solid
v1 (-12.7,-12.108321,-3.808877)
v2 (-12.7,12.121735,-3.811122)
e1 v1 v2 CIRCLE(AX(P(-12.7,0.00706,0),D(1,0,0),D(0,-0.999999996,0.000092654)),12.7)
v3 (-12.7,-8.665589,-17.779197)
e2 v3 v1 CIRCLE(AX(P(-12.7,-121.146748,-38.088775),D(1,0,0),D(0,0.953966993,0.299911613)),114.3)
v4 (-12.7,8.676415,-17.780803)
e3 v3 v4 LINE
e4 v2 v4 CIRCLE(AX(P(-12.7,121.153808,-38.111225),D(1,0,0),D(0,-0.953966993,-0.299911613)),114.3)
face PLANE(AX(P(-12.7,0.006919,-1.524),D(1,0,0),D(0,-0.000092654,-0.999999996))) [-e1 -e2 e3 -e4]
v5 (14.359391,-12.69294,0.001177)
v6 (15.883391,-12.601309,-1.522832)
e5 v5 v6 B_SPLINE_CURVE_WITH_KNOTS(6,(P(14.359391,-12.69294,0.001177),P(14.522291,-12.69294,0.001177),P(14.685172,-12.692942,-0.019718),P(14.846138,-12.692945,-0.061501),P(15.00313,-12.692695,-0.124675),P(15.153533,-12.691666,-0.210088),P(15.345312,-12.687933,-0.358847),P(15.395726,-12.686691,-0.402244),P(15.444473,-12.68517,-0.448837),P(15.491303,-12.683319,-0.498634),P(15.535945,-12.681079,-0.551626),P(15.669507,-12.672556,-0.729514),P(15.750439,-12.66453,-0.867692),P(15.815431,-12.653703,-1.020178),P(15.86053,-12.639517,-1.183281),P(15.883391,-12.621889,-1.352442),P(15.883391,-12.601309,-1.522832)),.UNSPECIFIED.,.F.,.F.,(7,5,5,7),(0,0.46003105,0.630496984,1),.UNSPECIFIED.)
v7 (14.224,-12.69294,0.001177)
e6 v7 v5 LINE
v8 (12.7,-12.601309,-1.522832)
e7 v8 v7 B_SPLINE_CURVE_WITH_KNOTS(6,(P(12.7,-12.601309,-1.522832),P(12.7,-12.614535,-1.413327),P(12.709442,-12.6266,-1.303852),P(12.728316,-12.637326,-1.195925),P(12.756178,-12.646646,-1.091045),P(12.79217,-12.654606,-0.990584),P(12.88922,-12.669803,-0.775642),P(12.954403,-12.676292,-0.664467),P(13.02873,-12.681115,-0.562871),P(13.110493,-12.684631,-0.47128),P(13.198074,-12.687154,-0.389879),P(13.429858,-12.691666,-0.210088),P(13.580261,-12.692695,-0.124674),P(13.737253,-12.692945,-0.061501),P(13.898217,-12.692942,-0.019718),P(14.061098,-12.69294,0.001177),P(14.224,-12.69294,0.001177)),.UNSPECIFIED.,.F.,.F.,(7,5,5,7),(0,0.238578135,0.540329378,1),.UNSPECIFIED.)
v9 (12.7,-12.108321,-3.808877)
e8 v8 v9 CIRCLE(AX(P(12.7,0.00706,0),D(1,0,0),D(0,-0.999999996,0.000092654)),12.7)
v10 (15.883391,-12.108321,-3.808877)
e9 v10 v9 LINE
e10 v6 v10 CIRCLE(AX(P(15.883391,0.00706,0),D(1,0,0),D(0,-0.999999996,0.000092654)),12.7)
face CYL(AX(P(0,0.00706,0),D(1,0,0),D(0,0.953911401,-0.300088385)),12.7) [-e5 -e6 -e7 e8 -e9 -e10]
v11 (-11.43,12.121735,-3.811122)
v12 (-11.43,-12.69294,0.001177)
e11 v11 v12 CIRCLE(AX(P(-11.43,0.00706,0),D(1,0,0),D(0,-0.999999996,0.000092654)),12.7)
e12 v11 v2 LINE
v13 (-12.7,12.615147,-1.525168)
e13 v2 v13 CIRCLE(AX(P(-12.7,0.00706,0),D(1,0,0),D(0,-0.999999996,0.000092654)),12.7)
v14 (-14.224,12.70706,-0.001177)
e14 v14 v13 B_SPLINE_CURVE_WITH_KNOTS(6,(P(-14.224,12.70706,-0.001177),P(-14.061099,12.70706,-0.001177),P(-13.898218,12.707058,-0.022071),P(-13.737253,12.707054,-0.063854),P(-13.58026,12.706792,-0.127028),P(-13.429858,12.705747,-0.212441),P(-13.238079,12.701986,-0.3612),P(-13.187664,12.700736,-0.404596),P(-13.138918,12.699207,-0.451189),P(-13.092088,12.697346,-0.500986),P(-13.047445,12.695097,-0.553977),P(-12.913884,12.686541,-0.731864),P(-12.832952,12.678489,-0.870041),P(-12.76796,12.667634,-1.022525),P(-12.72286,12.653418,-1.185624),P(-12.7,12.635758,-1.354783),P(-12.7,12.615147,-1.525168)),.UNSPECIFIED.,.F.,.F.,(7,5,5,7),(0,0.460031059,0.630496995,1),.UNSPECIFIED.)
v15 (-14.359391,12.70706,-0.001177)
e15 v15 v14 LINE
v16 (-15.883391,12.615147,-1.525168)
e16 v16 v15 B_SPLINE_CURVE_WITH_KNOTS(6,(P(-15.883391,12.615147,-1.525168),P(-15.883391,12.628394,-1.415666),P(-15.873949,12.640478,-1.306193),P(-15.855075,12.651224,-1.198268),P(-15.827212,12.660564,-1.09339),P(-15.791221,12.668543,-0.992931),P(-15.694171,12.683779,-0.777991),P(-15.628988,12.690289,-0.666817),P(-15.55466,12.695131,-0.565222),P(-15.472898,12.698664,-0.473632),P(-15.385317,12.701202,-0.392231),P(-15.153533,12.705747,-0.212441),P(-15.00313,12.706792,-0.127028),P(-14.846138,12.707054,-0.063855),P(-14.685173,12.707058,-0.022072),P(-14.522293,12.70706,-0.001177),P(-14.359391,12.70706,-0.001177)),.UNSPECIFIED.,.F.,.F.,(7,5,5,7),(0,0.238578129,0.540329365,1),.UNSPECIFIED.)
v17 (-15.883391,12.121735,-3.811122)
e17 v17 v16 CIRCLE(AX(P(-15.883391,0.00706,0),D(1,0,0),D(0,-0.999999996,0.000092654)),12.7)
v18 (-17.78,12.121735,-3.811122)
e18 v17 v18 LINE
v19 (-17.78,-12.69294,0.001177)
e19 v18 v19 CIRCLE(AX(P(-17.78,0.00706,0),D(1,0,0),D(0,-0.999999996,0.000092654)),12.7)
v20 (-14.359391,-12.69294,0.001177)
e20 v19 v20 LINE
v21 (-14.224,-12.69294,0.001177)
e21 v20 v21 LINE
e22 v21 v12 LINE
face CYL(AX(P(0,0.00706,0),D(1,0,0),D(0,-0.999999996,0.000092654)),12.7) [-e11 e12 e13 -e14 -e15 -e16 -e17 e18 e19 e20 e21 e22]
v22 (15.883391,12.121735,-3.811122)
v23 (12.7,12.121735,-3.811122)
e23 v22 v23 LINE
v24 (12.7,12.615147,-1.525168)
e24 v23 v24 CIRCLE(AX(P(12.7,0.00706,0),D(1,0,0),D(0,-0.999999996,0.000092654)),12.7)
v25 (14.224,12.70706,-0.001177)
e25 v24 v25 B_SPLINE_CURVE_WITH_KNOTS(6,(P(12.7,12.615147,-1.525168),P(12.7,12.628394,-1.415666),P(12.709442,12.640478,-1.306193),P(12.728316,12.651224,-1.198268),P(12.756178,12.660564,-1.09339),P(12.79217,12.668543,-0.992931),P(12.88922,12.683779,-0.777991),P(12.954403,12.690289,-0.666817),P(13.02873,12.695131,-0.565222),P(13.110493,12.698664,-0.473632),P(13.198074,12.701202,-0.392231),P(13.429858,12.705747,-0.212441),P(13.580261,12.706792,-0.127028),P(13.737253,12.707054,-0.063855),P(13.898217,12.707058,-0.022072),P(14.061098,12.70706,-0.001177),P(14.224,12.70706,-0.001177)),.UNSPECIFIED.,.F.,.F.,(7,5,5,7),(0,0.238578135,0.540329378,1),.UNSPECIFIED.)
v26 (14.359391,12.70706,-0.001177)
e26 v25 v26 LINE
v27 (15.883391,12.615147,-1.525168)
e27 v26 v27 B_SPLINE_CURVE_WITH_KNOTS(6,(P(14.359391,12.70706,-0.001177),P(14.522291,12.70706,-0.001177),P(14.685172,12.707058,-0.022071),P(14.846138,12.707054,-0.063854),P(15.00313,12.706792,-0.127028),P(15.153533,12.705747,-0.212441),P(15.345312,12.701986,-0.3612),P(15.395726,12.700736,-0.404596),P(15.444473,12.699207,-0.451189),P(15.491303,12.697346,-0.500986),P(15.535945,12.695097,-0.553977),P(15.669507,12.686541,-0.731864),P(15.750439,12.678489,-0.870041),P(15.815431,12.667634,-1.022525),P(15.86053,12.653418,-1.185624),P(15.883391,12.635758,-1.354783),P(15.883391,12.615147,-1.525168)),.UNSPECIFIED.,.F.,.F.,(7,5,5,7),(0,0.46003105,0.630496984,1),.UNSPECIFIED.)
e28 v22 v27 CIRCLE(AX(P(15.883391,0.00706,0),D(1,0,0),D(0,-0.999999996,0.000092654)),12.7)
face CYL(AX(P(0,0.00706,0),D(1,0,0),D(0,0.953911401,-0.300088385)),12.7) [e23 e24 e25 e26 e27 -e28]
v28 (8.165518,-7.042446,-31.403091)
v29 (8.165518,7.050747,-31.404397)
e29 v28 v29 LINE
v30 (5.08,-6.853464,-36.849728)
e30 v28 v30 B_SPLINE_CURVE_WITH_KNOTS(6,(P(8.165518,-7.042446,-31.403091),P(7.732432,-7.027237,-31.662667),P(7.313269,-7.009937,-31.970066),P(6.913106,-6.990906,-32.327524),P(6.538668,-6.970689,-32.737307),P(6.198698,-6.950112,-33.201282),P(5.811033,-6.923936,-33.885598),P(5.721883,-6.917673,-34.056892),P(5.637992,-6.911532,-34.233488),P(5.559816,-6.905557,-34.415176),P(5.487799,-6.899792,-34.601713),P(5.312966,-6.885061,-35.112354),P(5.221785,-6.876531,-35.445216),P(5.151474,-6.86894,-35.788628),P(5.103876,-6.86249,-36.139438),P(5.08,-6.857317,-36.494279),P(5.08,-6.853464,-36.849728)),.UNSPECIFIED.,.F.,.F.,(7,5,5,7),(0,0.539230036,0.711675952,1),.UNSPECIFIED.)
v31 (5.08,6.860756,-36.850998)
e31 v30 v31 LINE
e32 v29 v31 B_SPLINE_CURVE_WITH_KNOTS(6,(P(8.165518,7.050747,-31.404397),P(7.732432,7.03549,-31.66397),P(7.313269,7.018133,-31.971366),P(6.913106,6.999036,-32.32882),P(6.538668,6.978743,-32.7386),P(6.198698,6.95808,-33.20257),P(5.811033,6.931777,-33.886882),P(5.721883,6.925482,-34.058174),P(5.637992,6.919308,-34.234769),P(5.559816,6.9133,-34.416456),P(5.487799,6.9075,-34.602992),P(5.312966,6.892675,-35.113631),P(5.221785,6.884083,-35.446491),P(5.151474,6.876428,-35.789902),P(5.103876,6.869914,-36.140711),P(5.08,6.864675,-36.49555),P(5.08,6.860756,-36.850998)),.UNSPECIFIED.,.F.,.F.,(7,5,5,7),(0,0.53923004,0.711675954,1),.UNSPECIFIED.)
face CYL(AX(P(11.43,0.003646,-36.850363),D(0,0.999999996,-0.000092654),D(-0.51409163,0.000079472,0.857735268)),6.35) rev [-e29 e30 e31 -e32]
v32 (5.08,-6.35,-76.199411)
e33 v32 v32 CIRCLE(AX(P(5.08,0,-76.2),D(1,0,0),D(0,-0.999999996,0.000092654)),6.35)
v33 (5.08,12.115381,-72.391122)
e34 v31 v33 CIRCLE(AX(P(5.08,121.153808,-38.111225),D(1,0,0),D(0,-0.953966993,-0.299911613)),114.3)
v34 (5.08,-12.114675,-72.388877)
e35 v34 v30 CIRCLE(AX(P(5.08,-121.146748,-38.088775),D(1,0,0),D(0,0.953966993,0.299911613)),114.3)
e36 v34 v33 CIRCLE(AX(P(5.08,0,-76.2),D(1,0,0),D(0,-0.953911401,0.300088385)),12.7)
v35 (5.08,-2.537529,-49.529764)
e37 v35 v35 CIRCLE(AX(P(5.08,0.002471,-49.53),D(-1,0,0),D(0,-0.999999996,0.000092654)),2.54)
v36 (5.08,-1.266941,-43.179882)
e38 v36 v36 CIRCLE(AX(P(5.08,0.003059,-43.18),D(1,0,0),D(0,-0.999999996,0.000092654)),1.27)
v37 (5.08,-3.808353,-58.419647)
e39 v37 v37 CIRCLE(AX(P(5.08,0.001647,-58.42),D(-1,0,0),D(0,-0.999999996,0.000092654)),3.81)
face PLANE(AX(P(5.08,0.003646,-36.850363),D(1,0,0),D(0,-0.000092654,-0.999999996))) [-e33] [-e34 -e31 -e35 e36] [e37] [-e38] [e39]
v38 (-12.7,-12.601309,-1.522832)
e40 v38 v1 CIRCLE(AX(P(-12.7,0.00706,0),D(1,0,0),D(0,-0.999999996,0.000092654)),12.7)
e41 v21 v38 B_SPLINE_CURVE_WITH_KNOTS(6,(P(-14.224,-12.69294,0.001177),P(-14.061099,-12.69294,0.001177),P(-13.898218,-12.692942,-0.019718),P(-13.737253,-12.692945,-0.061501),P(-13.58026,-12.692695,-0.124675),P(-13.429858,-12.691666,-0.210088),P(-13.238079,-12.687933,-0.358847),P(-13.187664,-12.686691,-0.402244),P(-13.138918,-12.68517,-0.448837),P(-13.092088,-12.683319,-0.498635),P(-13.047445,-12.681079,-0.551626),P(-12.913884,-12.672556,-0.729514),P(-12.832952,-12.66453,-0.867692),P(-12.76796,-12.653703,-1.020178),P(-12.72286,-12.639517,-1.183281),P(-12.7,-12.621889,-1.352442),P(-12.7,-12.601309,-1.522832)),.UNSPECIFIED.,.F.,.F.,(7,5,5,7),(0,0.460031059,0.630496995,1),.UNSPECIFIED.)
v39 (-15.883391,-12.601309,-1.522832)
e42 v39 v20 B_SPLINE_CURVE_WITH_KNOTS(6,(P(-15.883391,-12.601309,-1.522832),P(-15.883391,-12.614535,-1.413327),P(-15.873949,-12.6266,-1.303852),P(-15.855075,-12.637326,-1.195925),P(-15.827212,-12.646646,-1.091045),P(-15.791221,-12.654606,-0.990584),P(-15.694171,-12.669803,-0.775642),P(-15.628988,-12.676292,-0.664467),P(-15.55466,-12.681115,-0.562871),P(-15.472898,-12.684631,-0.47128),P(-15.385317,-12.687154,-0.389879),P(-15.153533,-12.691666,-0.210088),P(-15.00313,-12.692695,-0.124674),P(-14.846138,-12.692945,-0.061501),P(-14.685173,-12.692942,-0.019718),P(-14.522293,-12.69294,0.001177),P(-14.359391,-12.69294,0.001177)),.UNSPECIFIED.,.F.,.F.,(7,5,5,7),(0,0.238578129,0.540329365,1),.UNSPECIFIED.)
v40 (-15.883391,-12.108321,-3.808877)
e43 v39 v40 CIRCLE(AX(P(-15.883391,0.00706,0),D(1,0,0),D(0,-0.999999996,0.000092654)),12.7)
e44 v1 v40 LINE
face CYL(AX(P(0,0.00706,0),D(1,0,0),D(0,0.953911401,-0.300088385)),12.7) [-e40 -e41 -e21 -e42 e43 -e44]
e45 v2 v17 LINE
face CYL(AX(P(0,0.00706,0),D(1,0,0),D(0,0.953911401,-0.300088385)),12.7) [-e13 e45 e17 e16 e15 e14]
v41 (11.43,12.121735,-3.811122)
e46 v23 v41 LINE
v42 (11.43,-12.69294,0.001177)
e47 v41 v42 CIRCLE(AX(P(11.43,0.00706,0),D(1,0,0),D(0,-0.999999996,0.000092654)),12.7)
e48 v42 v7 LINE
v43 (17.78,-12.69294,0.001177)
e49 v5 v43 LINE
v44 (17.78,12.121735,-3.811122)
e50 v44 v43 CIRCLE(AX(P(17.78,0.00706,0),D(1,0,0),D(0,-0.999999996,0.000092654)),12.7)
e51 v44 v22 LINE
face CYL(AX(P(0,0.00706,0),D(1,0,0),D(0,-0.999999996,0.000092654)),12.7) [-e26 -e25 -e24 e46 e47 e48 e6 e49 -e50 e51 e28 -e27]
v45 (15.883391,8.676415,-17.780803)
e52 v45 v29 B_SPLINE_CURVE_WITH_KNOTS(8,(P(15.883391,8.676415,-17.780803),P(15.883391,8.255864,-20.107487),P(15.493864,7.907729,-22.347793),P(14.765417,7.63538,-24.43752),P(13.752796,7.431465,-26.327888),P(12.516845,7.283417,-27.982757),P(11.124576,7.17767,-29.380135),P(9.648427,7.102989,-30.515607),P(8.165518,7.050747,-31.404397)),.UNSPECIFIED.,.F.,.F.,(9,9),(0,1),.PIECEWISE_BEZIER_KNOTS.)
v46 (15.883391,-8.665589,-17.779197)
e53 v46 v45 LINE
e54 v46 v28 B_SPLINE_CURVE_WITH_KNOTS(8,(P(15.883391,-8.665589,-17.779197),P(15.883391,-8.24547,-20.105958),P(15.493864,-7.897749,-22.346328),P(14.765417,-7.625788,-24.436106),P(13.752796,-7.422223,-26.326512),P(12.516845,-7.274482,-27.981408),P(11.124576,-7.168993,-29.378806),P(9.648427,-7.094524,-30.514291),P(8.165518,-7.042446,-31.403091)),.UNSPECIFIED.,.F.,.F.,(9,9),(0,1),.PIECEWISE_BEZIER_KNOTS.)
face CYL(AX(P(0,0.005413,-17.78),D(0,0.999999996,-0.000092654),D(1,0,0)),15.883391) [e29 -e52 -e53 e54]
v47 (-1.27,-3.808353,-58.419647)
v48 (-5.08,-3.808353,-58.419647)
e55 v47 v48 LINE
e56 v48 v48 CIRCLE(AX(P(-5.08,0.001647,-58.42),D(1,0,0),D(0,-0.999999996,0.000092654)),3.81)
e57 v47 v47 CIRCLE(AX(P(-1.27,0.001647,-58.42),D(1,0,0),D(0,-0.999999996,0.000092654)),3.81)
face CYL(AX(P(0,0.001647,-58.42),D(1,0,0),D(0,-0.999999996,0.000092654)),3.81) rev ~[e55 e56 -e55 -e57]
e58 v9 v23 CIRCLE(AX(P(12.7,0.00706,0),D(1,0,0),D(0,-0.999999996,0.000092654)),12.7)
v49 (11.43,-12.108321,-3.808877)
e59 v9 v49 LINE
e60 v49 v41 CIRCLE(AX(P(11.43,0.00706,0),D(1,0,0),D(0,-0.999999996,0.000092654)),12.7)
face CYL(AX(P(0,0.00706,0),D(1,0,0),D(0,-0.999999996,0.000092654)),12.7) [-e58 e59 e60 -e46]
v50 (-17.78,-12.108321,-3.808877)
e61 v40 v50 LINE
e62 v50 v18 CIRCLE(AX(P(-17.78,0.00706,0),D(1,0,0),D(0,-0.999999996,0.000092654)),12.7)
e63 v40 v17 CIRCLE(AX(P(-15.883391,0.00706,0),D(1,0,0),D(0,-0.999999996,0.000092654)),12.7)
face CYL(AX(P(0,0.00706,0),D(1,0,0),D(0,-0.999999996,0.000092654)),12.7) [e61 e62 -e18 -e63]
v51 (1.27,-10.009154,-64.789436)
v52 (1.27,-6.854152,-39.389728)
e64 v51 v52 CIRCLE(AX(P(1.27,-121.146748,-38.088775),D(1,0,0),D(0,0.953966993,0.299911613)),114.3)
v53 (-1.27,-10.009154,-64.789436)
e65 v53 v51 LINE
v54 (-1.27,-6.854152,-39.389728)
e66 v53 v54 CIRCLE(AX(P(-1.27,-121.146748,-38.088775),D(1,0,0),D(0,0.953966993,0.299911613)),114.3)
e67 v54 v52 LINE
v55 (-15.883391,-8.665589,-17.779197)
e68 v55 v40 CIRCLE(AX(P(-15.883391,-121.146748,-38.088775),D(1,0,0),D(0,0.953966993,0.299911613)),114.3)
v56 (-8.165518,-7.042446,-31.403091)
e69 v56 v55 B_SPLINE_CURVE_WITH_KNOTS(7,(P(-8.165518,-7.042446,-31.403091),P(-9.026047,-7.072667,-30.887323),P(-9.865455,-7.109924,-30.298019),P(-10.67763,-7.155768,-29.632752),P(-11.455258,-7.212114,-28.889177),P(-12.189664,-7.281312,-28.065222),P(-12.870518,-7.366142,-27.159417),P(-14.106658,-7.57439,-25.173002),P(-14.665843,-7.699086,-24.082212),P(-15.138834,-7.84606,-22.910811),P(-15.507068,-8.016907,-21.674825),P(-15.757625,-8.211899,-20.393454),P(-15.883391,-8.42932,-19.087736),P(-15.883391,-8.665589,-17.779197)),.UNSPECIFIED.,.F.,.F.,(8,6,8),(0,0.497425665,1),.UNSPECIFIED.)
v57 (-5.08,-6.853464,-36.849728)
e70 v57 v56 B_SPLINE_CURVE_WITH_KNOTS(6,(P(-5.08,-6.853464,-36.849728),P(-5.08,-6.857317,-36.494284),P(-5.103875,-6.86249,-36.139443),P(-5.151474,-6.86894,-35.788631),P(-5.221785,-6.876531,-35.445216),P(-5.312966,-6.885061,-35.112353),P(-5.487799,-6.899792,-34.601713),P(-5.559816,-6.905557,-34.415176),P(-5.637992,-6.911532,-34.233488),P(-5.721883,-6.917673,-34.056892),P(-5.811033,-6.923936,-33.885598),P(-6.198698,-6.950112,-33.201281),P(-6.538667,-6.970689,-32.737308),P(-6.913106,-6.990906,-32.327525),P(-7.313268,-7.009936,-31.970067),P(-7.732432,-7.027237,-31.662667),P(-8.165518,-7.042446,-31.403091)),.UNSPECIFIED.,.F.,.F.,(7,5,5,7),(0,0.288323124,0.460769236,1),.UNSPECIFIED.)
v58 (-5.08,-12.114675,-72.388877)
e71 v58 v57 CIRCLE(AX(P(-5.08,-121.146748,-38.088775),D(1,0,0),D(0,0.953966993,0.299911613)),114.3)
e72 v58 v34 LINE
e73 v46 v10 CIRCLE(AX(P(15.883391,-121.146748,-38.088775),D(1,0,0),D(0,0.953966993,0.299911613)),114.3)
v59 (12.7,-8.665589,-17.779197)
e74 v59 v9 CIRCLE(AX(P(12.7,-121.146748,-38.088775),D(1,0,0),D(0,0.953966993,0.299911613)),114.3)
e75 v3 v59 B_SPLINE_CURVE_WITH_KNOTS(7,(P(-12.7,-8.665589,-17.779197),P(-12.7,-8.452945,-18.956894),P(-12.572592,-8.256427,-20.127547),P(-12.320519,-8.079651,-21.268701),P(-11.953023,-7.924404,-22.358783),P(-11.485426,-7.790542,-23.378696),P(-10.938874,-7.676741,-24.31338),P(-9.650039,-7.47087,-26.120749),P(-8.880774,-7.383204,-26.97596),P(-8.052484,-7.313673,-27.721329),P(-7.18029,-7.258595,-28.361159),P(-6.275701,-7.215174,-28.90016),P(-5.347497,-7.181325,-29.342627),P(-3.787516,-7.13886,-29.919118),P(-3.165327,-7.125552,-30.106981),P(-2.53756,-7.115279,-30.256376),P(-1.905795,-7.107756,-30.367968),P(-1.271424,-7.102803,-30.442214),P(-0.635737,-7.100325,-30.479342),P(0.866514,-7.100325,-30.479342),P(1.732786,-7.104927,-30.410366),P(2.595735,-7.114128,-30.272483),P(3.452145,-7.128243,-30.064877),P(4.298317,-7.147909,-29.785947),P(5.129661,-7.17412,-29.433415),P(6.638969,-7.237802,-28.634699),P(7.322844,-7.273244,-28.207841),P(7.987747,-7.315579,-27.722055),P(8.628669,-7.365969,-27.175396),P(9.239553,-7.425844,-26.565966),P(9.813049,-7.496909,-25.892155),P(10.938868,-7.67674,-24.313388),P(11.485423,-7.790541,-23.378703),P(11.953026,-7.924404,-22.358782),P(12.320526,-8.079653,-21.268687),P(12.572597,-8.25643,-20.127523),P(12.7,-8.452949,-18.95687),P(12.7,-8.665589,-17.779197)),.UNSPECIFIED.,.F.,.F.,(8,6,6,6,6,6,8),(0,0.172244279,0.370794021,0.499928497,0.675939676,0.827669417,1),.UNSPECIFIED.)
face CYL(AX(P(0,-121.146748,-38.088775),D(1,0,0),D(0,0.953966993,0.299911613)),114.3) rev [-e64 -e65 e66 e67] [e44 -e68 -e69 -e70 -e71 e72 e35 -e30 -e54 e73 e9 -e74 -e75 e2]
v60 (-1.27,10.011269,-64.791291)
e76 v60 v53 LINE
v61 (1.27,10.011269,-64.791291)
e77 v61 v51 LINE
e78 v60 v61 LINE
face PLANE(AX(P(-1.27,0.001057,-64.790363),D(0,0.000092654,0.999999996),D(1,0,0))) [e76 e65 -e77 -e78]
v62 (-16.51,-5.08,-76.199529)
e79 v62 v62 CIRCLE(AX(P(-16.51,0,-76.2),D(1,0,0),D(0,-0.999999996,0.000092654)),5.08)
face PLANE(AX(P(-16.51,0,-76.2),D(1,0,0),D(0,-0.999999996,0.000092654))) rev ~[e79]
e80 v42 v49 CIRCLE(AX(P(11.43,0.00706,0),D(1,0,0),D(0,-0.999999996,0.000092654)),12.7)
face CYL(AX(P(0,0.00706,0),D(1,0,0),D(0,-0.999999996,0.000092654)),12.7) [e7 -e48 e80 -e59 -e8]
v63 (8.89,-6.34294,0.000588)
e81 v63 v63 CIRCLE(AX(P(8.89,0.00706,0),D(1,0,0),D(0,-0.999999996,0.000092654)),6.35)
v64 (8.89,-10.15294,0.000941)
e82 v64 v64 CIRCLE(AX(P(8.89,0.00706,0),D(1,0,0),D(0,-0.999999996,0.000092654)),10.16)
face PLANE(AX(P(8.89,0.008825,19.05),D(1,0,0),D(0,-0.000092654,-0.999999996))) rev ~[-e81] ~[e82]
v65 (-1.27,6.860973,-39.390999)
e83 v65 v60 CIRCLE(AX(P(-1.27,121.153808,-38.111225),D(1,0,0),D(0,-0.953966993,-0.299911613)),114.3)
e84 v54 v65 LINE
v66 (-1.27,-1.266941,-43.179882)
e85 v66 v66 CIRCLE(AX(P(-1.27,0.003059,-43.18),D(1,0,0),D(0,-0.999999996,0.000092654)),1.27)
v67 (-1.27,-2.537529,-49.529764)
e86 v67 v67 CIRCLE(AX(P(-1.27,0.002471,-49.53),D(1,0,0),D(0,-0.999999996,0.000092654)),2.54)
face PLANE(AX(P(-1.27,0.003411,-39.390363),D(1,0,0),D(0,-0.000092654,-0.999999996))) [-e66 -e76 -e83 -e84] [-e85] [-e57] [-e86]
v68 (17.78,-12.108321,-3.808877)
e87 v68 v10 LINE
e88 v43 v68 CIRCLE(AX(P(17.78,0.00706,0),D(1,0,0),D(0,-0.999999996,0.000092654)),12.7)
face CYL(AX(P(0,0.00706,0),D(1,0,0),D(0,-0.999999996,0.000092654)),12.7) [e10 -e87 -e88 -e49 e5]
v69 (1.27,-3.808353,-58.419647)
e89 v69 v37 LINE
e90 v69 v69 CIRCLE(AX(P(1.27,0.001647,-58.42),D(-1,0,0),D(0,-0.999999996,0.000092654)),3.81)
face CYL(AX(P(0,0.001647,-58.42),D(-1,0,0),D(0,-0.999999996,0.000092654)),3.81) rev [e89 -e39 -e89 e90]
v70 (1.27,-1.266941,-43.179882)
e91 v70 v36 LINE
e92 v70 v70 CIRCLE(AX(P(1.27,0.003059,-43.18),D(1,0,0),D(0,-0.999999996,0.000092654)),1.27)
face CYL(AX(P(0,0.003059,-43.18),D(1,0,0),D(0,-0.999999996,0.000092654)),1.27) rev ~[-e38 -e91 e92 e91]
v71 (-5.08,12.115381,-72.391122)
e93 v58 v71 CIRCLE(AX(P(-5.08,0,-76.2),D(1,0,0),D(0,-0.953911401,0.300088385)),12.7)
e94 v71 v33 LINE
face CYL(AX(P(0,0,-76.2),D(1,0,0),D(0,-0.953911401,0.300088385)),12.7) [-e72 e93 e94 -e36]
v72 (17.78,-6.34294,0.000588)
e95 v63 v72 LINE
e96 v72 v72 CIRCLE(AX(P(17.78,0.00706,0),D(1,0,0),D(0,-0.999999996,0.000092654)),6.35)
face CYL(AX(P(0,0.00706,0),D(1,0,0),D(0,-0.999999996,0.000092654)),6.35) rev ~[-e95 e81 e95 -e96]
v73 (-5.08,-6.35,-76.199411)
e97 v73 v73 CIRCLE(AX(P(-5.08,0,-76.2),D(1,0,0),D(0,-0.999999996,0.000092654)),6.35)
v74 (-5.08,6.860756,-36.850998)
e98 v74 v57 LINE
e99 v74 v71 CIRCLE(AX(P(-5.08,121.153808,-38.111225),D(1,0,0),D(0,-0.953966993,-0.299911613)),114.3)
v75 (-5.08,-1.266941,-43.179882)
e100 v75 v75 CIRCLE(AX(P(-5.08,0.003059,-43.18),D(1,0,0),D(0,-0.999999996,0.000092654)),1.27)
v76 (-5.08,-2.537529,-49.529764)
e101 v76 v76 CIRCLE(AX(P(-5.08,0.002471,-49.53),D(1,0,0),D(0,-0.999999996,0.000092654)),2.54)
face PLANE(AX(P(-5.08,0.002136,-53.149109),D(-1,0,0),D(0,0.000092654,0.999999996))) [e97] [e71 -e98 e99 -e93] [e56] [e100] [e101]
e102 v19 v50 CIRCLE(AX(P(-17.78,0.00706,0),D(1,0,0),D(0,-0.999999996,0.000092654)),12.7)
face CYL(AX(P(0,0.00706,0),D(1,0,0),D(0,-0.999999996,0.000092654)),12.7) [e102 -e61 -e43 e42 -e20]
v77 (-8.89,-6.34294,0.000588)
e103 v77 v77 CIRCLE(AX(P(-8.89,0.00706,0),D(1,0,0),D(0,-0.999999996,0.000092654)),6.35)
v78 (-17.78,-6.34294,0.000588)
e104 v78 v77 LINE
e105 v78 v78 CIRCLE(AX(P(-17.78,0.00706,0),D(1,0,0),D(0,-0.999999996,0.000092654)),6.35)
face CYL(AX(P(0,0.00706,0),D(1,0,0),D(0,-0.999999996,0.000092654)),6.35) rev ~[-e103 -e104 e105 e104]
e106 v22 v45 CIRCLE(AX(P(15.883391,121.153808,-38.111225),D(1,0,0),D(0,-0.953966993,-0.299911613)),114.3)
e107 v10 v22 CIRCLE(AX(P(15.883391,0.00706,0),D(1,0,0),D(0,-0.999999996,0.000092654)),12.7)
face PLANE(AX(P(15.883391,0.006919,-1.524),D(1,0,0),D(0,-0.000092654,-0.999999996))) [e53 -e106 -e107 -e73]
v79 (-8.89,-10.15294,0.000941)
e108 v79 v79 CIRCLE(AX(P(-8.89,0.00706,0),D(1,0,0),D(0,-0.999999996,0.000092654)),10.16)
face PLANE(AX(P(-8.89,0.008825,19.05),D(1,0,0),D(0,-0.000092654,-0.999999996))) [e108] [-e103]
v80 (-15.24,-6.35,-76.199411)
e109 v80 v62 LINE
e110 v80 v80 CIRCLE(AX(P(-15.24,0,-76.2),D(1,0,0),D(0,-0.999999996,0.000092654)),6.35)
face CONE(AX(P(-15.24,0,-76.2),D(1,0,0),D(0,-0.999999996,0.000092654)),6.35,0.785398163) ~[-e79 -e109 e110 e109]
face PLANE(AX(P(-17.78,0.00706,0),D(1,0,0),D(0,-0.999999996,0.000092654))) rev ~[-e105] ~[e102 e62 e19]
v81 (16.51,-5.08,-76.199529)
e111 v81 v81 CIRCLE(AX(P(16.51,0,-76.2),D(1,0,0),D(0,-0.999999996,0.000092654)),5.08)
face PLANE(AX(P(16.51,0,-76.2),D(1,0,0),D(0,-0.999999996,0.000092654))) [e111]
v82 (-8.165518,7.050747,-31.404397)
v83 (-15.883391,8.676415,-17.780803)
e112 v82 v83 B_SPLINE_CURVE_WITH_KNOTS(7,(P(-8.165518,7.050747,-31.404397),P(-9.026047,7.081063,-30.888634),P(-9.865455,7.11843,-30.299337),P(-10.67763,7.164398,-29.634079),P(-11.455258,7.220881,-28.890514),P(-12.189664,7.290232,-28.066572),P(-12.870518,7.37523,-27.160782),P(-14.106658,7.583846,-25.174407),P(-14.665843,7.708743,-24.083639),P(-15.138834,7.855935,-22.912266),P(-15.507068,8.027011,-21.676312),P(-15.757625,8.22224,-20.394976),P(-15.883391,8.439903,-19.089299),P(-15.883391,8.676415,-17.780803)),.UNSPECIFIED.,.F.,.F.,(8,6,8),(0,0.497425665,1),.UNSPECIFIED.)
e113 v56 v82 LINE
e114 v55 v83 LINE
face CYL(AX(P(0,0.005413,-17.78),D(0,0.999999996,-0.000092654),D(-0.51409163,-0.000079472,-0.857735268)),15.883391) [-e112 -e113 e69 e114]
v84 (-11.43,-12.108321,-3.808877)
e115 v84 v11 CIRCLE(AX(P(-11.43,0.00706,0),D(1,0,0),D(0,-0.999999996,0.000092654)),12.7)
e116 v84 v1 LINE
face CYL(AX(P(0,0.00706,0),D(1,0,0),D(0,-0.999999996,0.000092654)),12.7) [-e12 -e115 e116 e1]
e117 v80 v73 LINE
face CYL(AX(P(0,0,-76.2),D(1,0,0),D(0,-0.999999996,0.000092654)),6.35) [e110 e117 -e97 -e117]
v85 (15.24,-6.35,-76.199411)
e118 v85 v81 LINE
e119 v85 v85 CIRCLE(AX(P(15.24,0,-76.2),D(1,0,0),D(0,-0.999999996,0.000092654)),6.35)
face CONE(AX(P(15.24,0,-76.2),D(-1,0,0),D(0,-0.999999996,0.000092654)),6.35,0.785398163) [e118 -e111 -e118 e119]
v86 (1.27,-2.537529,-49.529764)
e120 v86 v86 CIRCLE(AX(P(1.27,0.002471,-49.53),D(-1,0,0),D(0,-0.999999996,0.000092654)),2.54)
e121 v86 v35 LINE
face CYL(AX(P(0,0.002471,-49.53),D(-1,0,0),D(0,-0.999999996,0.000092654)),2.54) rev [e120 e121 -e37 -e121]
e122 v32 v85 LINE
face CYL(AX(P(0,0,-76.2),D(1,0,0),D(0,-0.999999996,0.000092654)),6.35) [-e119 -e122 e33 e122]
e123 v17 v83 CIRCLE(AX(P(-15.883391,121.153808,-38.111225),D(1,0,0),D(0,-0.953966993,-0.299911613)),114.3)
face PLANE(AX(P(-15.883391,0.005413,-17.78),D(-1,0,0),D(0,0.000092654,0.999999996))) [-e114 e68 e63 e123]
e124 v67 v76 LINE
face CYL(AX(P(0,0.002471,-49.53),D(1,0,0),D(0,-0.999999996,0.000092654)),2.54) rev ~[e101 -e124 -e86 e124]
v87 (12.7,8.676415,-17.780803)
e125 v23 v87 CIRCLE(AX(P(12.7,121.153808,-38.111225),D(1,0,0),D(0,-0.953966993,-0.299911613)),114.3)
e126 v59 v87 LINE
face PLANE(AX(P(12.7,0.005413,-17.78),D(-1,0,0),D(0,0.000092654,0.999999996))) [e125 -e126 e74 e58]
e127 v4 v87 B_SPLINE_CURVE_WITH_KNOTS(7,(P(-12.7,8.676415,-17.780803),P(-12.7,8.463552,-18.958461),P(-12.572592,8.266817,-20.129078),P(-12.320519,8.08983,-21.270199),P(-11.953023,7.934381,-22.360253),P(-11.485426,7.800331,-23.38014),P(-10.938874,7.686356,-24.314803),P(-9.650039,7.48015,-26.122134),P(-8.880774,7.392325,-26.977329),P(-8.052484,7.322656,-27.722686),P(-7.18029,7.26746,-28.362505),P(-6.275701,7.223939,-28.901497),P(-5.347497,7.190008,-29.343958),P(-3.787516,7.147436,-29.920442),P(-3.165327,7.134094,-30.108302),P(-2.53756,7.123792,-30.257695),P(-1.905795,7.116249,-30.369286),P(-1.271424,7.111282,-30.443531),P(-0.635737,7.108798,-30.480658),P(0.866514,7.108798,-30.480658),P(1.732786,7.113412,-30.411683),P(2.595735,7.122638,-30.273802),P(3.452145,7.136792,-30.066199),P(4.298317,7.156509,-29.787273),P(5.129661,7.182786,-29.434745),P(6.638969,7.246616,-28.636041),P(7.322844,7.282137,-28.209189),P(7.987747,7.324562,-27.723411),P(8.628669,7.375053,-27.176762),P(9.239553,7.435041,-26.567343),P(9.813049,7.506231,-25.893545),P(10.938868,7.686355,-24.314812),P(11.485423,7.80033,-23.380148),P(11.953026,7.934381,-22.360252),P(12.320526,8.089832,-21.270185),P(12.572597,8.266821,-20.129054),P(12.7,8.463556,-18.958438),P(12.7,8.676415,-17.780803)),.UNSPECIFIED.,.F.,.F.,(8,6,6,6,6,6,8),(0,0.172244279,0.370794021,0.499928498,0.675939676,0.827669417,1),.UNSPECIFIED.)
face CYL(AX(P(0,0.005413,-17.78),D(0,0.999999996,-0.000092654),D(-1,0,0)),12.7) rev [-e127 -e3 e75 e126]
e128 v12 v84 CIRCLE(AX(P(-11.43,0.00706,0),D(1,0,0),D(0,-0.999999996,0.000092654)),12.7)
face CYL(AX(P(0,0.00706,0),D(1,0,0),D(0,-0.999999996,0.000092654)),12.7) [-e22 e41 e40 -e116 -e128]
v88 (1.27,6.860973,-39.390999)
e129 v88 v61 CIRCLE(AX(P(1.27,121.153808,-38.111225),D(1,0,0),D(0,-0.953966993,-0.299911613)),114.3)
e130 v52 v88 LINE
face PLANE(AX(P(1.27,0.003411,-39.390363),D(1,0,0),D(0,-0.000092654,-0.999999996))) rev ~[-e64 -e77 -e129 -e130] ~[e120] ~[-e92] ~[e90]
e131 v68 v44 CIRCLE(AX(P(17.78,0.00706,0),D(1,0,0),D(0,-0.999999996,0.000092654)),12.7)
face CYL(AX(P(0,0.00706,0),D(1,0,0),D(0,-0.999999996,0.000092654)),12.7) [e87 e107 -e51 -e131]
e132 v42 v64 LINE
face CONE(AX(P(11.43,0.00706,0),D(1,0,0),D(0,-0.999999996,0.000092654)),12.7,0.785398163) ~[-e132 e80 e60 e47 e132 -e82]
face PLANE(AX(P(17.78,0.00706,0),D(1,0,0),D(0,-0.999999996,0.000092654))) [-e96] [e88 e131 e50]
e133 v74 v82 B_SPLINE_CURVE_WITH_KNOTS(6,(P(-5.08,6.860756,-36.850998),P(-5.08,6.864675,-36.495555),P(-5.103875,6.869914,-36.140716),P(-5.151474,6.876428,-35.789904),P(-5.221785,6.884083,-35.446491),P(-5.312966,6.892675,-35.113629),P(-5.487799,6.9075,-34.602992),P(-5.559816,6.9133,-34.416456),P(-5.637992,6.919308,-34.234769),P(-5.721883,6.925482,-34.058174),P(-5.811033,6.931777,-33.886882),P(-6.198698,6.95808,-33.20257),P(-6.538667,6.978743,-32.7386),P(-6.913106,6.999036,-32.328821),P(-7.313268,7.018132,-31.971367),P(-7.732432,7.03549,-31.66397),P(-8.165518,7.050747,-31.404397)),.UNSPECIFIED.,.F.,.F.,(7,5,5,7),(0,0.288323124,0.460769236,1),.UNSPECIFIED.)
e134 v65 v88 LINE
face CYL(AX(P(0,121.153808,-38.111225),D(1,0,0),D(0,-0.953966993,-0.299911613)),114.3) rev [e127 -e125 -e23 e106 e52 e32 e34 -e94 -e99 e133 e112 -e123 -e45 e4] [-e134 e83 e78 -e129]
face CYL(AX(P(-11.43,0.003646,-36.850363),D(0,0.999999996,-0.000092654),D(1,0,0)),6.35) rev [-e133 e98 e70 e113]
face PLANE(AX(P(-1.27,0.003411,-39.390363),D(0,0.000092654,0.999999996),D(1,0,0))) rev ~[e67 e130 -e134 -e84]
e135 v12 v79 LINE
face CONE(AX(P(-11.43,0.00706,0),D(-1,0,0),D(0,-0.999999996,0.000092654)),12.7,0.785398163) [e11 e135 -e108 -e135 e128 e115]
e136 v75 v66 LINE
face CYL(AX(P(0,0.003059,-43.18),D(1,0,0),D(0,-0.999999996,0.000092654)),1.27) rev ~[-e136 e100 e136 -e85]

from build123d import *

# Parameters (mm, degrees)
F1_DEPTH  = 19.05
F3_R      = 12.7
F4_DEPTH  = 17.78
F2_R      = 6.35
F6_DEPTH  = 38.1
F5_W      = 17.78
F5_H      = 38.1
F7_DEPTH  = 19.05
F8_SIZE   = 2.54
F10_DEPTH = 5.08
F11_R     = 6.35
F12_DEPTH = 16.51
F13_SIZE  = 1.27
F15_DEPTH = 38.1
F16_W     = 2.54
F16_H     = 25.4
F17_DEPTH = 25.4
F18_R     = 3.81
F18_R_2   = 2.54
F18_R_3   = 1.27
F19_DEPTH = 12.7
F20_ANGLE = 179.9946913403


with BuildPart() as f1:
    # F0 (on Front) → F1 (new body, symmetric)
    with BuildSketch(Plane.XZ):
        with BuildLine():
            ThreePointArc((-5.08, -13.9496366999), (-5.9049678847, -17.0795760164), (-8.1655181496, -19.3962556739))
            ThreePointArc((-8.1655181496, -19.3962556739), (-13.8198807904, -25.1910159629), (-15.8833905736, -33.02))
            Line((-15.8833905736, -33.02), (-15.8833905736, -49.276))
            ThreePointArc((-15.8833905736, -49.276), (-15.4370213081, -50.3536307345), (-14.3593905736, -50.8))
            Line((-14.3593905736, -50.8), (-14.224, -50.8))
            ThreePointArc((-14.224, -50.8), (-13.1463692655, -50.3536307345), (-12.7, -49.276))
            Line((-12.7, -49.276), (-12.7, -33.02))
            ThreePointArc((-12.7, -33.02), (0, -20.32), (12.7, -33.02))
            Line((12.7, -33.02), (12.7, -49.276))
            ThreePointArc((12.7, -49.276), (13.1463692655, -50.3536307345), (14.224, -50.8))
            Line((14.224, -50.8), (14.3593905736, -50.8))
            ThreePointArc((14.3593905736, -50.8), (15.4370213081, -50.3536307345), (15.8833905736, -49.276))
            Line((15.8833905736, -49.276), (15.8833905736, -33.02))
            ThreePointArc((15.8833905736, -33.02), (13.8198807904, -25.1910159629), (8.1655181496, -19.3962556739))
            ThreePointArc((8.1655181496, -19.3962556739), (5.9049678847, -17.0795760164), (5.08, -13.9496366999))
            Line((5.08, -13.9496366999), (5.08, 2.3491094791))
            Line((5.08, 2.3491094791), (-5.08, 2.3491094791))
            Line((-5.08, 2.3491094791), (-5.08, -13.9496366999))
        make_face()
    extrude(amount=F1_DEPTH, both=True)

    # F3 (on Right) → F4 (join, symmetric)
    with BuildSketch(Plane.YZ):
        with Locations((0, -50.8)):
            Circle(F3_R)
    extrude(amount=F4_DEPTH, both=True)

    # F2 (on Right) → F6 (cut, symmetric)
    with BuildSketch(Plane.YZ):
        with Locations((0, -50.8)):
            Circle(F2_R)
    extrude(amount=F6_DEPTH, both=True, mode=Mode.SUBTRACT)

    # F5 (on Front) → F7 (cut, symmetric)
    with BuildSketch(Plane.XZ):
        with Locations((0, -50.8)):
            Rectangle(F5_W, F5_H)
    extrude(amount=F7_DEPTH, both=True, mode=Mode.SUBTRACT)

    # F8
    f8_edges = [f1.edges().sort_by_distance(p)[0] for p in [
        (-8.89, -12.7, -50.8),
        (8.89, -12.7, -50.8),
    ]]
    chamfer(f8_edges, length=F8_SIZE)

    # F9 (on Right) → F10 (join, symmetric)
    with BuildSketch(Plane.YZ):
        with BuildLine():
            Line((19.0499954742, -0.0131314098), (19.0499954742, 25.3868685902))
            ThreePointArc((19.0499954742, 25.3868685902), (0, 44.45), (-19.0499954742, 25.3868685902))
            Line((-19.0499954742, 25.3868685902), (-19.0499954742, -0.0131314098))
            Line((-19.0499954742, -0.0131314098), (19.0499954742, -0.0131314098))
        make_face()
    extrude(amount=F10_DEPTH, both=True)

    # F11 (on Right) → F12 (join, symmetric)
    with BuildSketch(Plane.YZ):
        with Locations((0, 25.4)):
            Circle(F11_R)
    extrude(amount=F12_DEPTH, both=True)

    # F13
    f13_edges = [f1.edges().sort_by_distance(p)[0] for p in [
        (-16.51, -6.35, 25.4),
        (16.51, -6.35, 25.4),
    ]]
    chamfer(f13_edges, length=F13_SIZE)

    # F14 (on Right) → F15 (intersect, symmetric)
    with BuildSketch(Plane.YZ):
        with BuildLine():
            ThreePointArc((12.115027858, -46.99), (6.85027858, -12.7), (12.115027858, 21.59))
            ThreePointArc((12.115027858, 21.59), (0, 38.1), (-12.115027858, 21.59))
            ThreePointArc((-12.115027858, 21.59), (-6.85027858, -12.7), (-12.115027858, -46.99))
            ThreePointArc((-12.115027858, -46.99), (0, -63.5), (12.115027858, -46.99))
        make_face()
    extrude(amount=F15_DEPTH, both=True, mode=Mode.INTERSECT)

    # F16 (on Front) → F17 (cut, symmetric)
    with BuildSketch(Plane.XZ):
        with Locations((0, 1.2903633001)):
            Rectangle(F16_W, F16_H)
    extrude(amount=F17_DEPTH, both=True, mode=Mode.SUBTRACT)

    # F18 (on Right) → F19 (cut, symmetric)
    with BuildSketch(Plane.YZ):
        with Locations((0, 7.62)):
            Circle(F18_R)
        with Locations((0, -1.27)):
            Circle(F18_R_2)
        with Locations((0, -7.62)):
            Circle(F18_R_3)
    extrude(amount=F19_DEPTH, both=True, mode=Mode.SUBTRACT)


with BuildPart() as f1_1:
    # F20: moved
    add(f1.part.rotate(Axis((15.24, 0, 25.4), (1, 0, 0)), F20_ANGLE))


with BuildPart() as f1_2:
    # F22: moved
    add(f1_1.part.moved(Location((0, 0, -101.5999996729))))


solid = f1_2.part
